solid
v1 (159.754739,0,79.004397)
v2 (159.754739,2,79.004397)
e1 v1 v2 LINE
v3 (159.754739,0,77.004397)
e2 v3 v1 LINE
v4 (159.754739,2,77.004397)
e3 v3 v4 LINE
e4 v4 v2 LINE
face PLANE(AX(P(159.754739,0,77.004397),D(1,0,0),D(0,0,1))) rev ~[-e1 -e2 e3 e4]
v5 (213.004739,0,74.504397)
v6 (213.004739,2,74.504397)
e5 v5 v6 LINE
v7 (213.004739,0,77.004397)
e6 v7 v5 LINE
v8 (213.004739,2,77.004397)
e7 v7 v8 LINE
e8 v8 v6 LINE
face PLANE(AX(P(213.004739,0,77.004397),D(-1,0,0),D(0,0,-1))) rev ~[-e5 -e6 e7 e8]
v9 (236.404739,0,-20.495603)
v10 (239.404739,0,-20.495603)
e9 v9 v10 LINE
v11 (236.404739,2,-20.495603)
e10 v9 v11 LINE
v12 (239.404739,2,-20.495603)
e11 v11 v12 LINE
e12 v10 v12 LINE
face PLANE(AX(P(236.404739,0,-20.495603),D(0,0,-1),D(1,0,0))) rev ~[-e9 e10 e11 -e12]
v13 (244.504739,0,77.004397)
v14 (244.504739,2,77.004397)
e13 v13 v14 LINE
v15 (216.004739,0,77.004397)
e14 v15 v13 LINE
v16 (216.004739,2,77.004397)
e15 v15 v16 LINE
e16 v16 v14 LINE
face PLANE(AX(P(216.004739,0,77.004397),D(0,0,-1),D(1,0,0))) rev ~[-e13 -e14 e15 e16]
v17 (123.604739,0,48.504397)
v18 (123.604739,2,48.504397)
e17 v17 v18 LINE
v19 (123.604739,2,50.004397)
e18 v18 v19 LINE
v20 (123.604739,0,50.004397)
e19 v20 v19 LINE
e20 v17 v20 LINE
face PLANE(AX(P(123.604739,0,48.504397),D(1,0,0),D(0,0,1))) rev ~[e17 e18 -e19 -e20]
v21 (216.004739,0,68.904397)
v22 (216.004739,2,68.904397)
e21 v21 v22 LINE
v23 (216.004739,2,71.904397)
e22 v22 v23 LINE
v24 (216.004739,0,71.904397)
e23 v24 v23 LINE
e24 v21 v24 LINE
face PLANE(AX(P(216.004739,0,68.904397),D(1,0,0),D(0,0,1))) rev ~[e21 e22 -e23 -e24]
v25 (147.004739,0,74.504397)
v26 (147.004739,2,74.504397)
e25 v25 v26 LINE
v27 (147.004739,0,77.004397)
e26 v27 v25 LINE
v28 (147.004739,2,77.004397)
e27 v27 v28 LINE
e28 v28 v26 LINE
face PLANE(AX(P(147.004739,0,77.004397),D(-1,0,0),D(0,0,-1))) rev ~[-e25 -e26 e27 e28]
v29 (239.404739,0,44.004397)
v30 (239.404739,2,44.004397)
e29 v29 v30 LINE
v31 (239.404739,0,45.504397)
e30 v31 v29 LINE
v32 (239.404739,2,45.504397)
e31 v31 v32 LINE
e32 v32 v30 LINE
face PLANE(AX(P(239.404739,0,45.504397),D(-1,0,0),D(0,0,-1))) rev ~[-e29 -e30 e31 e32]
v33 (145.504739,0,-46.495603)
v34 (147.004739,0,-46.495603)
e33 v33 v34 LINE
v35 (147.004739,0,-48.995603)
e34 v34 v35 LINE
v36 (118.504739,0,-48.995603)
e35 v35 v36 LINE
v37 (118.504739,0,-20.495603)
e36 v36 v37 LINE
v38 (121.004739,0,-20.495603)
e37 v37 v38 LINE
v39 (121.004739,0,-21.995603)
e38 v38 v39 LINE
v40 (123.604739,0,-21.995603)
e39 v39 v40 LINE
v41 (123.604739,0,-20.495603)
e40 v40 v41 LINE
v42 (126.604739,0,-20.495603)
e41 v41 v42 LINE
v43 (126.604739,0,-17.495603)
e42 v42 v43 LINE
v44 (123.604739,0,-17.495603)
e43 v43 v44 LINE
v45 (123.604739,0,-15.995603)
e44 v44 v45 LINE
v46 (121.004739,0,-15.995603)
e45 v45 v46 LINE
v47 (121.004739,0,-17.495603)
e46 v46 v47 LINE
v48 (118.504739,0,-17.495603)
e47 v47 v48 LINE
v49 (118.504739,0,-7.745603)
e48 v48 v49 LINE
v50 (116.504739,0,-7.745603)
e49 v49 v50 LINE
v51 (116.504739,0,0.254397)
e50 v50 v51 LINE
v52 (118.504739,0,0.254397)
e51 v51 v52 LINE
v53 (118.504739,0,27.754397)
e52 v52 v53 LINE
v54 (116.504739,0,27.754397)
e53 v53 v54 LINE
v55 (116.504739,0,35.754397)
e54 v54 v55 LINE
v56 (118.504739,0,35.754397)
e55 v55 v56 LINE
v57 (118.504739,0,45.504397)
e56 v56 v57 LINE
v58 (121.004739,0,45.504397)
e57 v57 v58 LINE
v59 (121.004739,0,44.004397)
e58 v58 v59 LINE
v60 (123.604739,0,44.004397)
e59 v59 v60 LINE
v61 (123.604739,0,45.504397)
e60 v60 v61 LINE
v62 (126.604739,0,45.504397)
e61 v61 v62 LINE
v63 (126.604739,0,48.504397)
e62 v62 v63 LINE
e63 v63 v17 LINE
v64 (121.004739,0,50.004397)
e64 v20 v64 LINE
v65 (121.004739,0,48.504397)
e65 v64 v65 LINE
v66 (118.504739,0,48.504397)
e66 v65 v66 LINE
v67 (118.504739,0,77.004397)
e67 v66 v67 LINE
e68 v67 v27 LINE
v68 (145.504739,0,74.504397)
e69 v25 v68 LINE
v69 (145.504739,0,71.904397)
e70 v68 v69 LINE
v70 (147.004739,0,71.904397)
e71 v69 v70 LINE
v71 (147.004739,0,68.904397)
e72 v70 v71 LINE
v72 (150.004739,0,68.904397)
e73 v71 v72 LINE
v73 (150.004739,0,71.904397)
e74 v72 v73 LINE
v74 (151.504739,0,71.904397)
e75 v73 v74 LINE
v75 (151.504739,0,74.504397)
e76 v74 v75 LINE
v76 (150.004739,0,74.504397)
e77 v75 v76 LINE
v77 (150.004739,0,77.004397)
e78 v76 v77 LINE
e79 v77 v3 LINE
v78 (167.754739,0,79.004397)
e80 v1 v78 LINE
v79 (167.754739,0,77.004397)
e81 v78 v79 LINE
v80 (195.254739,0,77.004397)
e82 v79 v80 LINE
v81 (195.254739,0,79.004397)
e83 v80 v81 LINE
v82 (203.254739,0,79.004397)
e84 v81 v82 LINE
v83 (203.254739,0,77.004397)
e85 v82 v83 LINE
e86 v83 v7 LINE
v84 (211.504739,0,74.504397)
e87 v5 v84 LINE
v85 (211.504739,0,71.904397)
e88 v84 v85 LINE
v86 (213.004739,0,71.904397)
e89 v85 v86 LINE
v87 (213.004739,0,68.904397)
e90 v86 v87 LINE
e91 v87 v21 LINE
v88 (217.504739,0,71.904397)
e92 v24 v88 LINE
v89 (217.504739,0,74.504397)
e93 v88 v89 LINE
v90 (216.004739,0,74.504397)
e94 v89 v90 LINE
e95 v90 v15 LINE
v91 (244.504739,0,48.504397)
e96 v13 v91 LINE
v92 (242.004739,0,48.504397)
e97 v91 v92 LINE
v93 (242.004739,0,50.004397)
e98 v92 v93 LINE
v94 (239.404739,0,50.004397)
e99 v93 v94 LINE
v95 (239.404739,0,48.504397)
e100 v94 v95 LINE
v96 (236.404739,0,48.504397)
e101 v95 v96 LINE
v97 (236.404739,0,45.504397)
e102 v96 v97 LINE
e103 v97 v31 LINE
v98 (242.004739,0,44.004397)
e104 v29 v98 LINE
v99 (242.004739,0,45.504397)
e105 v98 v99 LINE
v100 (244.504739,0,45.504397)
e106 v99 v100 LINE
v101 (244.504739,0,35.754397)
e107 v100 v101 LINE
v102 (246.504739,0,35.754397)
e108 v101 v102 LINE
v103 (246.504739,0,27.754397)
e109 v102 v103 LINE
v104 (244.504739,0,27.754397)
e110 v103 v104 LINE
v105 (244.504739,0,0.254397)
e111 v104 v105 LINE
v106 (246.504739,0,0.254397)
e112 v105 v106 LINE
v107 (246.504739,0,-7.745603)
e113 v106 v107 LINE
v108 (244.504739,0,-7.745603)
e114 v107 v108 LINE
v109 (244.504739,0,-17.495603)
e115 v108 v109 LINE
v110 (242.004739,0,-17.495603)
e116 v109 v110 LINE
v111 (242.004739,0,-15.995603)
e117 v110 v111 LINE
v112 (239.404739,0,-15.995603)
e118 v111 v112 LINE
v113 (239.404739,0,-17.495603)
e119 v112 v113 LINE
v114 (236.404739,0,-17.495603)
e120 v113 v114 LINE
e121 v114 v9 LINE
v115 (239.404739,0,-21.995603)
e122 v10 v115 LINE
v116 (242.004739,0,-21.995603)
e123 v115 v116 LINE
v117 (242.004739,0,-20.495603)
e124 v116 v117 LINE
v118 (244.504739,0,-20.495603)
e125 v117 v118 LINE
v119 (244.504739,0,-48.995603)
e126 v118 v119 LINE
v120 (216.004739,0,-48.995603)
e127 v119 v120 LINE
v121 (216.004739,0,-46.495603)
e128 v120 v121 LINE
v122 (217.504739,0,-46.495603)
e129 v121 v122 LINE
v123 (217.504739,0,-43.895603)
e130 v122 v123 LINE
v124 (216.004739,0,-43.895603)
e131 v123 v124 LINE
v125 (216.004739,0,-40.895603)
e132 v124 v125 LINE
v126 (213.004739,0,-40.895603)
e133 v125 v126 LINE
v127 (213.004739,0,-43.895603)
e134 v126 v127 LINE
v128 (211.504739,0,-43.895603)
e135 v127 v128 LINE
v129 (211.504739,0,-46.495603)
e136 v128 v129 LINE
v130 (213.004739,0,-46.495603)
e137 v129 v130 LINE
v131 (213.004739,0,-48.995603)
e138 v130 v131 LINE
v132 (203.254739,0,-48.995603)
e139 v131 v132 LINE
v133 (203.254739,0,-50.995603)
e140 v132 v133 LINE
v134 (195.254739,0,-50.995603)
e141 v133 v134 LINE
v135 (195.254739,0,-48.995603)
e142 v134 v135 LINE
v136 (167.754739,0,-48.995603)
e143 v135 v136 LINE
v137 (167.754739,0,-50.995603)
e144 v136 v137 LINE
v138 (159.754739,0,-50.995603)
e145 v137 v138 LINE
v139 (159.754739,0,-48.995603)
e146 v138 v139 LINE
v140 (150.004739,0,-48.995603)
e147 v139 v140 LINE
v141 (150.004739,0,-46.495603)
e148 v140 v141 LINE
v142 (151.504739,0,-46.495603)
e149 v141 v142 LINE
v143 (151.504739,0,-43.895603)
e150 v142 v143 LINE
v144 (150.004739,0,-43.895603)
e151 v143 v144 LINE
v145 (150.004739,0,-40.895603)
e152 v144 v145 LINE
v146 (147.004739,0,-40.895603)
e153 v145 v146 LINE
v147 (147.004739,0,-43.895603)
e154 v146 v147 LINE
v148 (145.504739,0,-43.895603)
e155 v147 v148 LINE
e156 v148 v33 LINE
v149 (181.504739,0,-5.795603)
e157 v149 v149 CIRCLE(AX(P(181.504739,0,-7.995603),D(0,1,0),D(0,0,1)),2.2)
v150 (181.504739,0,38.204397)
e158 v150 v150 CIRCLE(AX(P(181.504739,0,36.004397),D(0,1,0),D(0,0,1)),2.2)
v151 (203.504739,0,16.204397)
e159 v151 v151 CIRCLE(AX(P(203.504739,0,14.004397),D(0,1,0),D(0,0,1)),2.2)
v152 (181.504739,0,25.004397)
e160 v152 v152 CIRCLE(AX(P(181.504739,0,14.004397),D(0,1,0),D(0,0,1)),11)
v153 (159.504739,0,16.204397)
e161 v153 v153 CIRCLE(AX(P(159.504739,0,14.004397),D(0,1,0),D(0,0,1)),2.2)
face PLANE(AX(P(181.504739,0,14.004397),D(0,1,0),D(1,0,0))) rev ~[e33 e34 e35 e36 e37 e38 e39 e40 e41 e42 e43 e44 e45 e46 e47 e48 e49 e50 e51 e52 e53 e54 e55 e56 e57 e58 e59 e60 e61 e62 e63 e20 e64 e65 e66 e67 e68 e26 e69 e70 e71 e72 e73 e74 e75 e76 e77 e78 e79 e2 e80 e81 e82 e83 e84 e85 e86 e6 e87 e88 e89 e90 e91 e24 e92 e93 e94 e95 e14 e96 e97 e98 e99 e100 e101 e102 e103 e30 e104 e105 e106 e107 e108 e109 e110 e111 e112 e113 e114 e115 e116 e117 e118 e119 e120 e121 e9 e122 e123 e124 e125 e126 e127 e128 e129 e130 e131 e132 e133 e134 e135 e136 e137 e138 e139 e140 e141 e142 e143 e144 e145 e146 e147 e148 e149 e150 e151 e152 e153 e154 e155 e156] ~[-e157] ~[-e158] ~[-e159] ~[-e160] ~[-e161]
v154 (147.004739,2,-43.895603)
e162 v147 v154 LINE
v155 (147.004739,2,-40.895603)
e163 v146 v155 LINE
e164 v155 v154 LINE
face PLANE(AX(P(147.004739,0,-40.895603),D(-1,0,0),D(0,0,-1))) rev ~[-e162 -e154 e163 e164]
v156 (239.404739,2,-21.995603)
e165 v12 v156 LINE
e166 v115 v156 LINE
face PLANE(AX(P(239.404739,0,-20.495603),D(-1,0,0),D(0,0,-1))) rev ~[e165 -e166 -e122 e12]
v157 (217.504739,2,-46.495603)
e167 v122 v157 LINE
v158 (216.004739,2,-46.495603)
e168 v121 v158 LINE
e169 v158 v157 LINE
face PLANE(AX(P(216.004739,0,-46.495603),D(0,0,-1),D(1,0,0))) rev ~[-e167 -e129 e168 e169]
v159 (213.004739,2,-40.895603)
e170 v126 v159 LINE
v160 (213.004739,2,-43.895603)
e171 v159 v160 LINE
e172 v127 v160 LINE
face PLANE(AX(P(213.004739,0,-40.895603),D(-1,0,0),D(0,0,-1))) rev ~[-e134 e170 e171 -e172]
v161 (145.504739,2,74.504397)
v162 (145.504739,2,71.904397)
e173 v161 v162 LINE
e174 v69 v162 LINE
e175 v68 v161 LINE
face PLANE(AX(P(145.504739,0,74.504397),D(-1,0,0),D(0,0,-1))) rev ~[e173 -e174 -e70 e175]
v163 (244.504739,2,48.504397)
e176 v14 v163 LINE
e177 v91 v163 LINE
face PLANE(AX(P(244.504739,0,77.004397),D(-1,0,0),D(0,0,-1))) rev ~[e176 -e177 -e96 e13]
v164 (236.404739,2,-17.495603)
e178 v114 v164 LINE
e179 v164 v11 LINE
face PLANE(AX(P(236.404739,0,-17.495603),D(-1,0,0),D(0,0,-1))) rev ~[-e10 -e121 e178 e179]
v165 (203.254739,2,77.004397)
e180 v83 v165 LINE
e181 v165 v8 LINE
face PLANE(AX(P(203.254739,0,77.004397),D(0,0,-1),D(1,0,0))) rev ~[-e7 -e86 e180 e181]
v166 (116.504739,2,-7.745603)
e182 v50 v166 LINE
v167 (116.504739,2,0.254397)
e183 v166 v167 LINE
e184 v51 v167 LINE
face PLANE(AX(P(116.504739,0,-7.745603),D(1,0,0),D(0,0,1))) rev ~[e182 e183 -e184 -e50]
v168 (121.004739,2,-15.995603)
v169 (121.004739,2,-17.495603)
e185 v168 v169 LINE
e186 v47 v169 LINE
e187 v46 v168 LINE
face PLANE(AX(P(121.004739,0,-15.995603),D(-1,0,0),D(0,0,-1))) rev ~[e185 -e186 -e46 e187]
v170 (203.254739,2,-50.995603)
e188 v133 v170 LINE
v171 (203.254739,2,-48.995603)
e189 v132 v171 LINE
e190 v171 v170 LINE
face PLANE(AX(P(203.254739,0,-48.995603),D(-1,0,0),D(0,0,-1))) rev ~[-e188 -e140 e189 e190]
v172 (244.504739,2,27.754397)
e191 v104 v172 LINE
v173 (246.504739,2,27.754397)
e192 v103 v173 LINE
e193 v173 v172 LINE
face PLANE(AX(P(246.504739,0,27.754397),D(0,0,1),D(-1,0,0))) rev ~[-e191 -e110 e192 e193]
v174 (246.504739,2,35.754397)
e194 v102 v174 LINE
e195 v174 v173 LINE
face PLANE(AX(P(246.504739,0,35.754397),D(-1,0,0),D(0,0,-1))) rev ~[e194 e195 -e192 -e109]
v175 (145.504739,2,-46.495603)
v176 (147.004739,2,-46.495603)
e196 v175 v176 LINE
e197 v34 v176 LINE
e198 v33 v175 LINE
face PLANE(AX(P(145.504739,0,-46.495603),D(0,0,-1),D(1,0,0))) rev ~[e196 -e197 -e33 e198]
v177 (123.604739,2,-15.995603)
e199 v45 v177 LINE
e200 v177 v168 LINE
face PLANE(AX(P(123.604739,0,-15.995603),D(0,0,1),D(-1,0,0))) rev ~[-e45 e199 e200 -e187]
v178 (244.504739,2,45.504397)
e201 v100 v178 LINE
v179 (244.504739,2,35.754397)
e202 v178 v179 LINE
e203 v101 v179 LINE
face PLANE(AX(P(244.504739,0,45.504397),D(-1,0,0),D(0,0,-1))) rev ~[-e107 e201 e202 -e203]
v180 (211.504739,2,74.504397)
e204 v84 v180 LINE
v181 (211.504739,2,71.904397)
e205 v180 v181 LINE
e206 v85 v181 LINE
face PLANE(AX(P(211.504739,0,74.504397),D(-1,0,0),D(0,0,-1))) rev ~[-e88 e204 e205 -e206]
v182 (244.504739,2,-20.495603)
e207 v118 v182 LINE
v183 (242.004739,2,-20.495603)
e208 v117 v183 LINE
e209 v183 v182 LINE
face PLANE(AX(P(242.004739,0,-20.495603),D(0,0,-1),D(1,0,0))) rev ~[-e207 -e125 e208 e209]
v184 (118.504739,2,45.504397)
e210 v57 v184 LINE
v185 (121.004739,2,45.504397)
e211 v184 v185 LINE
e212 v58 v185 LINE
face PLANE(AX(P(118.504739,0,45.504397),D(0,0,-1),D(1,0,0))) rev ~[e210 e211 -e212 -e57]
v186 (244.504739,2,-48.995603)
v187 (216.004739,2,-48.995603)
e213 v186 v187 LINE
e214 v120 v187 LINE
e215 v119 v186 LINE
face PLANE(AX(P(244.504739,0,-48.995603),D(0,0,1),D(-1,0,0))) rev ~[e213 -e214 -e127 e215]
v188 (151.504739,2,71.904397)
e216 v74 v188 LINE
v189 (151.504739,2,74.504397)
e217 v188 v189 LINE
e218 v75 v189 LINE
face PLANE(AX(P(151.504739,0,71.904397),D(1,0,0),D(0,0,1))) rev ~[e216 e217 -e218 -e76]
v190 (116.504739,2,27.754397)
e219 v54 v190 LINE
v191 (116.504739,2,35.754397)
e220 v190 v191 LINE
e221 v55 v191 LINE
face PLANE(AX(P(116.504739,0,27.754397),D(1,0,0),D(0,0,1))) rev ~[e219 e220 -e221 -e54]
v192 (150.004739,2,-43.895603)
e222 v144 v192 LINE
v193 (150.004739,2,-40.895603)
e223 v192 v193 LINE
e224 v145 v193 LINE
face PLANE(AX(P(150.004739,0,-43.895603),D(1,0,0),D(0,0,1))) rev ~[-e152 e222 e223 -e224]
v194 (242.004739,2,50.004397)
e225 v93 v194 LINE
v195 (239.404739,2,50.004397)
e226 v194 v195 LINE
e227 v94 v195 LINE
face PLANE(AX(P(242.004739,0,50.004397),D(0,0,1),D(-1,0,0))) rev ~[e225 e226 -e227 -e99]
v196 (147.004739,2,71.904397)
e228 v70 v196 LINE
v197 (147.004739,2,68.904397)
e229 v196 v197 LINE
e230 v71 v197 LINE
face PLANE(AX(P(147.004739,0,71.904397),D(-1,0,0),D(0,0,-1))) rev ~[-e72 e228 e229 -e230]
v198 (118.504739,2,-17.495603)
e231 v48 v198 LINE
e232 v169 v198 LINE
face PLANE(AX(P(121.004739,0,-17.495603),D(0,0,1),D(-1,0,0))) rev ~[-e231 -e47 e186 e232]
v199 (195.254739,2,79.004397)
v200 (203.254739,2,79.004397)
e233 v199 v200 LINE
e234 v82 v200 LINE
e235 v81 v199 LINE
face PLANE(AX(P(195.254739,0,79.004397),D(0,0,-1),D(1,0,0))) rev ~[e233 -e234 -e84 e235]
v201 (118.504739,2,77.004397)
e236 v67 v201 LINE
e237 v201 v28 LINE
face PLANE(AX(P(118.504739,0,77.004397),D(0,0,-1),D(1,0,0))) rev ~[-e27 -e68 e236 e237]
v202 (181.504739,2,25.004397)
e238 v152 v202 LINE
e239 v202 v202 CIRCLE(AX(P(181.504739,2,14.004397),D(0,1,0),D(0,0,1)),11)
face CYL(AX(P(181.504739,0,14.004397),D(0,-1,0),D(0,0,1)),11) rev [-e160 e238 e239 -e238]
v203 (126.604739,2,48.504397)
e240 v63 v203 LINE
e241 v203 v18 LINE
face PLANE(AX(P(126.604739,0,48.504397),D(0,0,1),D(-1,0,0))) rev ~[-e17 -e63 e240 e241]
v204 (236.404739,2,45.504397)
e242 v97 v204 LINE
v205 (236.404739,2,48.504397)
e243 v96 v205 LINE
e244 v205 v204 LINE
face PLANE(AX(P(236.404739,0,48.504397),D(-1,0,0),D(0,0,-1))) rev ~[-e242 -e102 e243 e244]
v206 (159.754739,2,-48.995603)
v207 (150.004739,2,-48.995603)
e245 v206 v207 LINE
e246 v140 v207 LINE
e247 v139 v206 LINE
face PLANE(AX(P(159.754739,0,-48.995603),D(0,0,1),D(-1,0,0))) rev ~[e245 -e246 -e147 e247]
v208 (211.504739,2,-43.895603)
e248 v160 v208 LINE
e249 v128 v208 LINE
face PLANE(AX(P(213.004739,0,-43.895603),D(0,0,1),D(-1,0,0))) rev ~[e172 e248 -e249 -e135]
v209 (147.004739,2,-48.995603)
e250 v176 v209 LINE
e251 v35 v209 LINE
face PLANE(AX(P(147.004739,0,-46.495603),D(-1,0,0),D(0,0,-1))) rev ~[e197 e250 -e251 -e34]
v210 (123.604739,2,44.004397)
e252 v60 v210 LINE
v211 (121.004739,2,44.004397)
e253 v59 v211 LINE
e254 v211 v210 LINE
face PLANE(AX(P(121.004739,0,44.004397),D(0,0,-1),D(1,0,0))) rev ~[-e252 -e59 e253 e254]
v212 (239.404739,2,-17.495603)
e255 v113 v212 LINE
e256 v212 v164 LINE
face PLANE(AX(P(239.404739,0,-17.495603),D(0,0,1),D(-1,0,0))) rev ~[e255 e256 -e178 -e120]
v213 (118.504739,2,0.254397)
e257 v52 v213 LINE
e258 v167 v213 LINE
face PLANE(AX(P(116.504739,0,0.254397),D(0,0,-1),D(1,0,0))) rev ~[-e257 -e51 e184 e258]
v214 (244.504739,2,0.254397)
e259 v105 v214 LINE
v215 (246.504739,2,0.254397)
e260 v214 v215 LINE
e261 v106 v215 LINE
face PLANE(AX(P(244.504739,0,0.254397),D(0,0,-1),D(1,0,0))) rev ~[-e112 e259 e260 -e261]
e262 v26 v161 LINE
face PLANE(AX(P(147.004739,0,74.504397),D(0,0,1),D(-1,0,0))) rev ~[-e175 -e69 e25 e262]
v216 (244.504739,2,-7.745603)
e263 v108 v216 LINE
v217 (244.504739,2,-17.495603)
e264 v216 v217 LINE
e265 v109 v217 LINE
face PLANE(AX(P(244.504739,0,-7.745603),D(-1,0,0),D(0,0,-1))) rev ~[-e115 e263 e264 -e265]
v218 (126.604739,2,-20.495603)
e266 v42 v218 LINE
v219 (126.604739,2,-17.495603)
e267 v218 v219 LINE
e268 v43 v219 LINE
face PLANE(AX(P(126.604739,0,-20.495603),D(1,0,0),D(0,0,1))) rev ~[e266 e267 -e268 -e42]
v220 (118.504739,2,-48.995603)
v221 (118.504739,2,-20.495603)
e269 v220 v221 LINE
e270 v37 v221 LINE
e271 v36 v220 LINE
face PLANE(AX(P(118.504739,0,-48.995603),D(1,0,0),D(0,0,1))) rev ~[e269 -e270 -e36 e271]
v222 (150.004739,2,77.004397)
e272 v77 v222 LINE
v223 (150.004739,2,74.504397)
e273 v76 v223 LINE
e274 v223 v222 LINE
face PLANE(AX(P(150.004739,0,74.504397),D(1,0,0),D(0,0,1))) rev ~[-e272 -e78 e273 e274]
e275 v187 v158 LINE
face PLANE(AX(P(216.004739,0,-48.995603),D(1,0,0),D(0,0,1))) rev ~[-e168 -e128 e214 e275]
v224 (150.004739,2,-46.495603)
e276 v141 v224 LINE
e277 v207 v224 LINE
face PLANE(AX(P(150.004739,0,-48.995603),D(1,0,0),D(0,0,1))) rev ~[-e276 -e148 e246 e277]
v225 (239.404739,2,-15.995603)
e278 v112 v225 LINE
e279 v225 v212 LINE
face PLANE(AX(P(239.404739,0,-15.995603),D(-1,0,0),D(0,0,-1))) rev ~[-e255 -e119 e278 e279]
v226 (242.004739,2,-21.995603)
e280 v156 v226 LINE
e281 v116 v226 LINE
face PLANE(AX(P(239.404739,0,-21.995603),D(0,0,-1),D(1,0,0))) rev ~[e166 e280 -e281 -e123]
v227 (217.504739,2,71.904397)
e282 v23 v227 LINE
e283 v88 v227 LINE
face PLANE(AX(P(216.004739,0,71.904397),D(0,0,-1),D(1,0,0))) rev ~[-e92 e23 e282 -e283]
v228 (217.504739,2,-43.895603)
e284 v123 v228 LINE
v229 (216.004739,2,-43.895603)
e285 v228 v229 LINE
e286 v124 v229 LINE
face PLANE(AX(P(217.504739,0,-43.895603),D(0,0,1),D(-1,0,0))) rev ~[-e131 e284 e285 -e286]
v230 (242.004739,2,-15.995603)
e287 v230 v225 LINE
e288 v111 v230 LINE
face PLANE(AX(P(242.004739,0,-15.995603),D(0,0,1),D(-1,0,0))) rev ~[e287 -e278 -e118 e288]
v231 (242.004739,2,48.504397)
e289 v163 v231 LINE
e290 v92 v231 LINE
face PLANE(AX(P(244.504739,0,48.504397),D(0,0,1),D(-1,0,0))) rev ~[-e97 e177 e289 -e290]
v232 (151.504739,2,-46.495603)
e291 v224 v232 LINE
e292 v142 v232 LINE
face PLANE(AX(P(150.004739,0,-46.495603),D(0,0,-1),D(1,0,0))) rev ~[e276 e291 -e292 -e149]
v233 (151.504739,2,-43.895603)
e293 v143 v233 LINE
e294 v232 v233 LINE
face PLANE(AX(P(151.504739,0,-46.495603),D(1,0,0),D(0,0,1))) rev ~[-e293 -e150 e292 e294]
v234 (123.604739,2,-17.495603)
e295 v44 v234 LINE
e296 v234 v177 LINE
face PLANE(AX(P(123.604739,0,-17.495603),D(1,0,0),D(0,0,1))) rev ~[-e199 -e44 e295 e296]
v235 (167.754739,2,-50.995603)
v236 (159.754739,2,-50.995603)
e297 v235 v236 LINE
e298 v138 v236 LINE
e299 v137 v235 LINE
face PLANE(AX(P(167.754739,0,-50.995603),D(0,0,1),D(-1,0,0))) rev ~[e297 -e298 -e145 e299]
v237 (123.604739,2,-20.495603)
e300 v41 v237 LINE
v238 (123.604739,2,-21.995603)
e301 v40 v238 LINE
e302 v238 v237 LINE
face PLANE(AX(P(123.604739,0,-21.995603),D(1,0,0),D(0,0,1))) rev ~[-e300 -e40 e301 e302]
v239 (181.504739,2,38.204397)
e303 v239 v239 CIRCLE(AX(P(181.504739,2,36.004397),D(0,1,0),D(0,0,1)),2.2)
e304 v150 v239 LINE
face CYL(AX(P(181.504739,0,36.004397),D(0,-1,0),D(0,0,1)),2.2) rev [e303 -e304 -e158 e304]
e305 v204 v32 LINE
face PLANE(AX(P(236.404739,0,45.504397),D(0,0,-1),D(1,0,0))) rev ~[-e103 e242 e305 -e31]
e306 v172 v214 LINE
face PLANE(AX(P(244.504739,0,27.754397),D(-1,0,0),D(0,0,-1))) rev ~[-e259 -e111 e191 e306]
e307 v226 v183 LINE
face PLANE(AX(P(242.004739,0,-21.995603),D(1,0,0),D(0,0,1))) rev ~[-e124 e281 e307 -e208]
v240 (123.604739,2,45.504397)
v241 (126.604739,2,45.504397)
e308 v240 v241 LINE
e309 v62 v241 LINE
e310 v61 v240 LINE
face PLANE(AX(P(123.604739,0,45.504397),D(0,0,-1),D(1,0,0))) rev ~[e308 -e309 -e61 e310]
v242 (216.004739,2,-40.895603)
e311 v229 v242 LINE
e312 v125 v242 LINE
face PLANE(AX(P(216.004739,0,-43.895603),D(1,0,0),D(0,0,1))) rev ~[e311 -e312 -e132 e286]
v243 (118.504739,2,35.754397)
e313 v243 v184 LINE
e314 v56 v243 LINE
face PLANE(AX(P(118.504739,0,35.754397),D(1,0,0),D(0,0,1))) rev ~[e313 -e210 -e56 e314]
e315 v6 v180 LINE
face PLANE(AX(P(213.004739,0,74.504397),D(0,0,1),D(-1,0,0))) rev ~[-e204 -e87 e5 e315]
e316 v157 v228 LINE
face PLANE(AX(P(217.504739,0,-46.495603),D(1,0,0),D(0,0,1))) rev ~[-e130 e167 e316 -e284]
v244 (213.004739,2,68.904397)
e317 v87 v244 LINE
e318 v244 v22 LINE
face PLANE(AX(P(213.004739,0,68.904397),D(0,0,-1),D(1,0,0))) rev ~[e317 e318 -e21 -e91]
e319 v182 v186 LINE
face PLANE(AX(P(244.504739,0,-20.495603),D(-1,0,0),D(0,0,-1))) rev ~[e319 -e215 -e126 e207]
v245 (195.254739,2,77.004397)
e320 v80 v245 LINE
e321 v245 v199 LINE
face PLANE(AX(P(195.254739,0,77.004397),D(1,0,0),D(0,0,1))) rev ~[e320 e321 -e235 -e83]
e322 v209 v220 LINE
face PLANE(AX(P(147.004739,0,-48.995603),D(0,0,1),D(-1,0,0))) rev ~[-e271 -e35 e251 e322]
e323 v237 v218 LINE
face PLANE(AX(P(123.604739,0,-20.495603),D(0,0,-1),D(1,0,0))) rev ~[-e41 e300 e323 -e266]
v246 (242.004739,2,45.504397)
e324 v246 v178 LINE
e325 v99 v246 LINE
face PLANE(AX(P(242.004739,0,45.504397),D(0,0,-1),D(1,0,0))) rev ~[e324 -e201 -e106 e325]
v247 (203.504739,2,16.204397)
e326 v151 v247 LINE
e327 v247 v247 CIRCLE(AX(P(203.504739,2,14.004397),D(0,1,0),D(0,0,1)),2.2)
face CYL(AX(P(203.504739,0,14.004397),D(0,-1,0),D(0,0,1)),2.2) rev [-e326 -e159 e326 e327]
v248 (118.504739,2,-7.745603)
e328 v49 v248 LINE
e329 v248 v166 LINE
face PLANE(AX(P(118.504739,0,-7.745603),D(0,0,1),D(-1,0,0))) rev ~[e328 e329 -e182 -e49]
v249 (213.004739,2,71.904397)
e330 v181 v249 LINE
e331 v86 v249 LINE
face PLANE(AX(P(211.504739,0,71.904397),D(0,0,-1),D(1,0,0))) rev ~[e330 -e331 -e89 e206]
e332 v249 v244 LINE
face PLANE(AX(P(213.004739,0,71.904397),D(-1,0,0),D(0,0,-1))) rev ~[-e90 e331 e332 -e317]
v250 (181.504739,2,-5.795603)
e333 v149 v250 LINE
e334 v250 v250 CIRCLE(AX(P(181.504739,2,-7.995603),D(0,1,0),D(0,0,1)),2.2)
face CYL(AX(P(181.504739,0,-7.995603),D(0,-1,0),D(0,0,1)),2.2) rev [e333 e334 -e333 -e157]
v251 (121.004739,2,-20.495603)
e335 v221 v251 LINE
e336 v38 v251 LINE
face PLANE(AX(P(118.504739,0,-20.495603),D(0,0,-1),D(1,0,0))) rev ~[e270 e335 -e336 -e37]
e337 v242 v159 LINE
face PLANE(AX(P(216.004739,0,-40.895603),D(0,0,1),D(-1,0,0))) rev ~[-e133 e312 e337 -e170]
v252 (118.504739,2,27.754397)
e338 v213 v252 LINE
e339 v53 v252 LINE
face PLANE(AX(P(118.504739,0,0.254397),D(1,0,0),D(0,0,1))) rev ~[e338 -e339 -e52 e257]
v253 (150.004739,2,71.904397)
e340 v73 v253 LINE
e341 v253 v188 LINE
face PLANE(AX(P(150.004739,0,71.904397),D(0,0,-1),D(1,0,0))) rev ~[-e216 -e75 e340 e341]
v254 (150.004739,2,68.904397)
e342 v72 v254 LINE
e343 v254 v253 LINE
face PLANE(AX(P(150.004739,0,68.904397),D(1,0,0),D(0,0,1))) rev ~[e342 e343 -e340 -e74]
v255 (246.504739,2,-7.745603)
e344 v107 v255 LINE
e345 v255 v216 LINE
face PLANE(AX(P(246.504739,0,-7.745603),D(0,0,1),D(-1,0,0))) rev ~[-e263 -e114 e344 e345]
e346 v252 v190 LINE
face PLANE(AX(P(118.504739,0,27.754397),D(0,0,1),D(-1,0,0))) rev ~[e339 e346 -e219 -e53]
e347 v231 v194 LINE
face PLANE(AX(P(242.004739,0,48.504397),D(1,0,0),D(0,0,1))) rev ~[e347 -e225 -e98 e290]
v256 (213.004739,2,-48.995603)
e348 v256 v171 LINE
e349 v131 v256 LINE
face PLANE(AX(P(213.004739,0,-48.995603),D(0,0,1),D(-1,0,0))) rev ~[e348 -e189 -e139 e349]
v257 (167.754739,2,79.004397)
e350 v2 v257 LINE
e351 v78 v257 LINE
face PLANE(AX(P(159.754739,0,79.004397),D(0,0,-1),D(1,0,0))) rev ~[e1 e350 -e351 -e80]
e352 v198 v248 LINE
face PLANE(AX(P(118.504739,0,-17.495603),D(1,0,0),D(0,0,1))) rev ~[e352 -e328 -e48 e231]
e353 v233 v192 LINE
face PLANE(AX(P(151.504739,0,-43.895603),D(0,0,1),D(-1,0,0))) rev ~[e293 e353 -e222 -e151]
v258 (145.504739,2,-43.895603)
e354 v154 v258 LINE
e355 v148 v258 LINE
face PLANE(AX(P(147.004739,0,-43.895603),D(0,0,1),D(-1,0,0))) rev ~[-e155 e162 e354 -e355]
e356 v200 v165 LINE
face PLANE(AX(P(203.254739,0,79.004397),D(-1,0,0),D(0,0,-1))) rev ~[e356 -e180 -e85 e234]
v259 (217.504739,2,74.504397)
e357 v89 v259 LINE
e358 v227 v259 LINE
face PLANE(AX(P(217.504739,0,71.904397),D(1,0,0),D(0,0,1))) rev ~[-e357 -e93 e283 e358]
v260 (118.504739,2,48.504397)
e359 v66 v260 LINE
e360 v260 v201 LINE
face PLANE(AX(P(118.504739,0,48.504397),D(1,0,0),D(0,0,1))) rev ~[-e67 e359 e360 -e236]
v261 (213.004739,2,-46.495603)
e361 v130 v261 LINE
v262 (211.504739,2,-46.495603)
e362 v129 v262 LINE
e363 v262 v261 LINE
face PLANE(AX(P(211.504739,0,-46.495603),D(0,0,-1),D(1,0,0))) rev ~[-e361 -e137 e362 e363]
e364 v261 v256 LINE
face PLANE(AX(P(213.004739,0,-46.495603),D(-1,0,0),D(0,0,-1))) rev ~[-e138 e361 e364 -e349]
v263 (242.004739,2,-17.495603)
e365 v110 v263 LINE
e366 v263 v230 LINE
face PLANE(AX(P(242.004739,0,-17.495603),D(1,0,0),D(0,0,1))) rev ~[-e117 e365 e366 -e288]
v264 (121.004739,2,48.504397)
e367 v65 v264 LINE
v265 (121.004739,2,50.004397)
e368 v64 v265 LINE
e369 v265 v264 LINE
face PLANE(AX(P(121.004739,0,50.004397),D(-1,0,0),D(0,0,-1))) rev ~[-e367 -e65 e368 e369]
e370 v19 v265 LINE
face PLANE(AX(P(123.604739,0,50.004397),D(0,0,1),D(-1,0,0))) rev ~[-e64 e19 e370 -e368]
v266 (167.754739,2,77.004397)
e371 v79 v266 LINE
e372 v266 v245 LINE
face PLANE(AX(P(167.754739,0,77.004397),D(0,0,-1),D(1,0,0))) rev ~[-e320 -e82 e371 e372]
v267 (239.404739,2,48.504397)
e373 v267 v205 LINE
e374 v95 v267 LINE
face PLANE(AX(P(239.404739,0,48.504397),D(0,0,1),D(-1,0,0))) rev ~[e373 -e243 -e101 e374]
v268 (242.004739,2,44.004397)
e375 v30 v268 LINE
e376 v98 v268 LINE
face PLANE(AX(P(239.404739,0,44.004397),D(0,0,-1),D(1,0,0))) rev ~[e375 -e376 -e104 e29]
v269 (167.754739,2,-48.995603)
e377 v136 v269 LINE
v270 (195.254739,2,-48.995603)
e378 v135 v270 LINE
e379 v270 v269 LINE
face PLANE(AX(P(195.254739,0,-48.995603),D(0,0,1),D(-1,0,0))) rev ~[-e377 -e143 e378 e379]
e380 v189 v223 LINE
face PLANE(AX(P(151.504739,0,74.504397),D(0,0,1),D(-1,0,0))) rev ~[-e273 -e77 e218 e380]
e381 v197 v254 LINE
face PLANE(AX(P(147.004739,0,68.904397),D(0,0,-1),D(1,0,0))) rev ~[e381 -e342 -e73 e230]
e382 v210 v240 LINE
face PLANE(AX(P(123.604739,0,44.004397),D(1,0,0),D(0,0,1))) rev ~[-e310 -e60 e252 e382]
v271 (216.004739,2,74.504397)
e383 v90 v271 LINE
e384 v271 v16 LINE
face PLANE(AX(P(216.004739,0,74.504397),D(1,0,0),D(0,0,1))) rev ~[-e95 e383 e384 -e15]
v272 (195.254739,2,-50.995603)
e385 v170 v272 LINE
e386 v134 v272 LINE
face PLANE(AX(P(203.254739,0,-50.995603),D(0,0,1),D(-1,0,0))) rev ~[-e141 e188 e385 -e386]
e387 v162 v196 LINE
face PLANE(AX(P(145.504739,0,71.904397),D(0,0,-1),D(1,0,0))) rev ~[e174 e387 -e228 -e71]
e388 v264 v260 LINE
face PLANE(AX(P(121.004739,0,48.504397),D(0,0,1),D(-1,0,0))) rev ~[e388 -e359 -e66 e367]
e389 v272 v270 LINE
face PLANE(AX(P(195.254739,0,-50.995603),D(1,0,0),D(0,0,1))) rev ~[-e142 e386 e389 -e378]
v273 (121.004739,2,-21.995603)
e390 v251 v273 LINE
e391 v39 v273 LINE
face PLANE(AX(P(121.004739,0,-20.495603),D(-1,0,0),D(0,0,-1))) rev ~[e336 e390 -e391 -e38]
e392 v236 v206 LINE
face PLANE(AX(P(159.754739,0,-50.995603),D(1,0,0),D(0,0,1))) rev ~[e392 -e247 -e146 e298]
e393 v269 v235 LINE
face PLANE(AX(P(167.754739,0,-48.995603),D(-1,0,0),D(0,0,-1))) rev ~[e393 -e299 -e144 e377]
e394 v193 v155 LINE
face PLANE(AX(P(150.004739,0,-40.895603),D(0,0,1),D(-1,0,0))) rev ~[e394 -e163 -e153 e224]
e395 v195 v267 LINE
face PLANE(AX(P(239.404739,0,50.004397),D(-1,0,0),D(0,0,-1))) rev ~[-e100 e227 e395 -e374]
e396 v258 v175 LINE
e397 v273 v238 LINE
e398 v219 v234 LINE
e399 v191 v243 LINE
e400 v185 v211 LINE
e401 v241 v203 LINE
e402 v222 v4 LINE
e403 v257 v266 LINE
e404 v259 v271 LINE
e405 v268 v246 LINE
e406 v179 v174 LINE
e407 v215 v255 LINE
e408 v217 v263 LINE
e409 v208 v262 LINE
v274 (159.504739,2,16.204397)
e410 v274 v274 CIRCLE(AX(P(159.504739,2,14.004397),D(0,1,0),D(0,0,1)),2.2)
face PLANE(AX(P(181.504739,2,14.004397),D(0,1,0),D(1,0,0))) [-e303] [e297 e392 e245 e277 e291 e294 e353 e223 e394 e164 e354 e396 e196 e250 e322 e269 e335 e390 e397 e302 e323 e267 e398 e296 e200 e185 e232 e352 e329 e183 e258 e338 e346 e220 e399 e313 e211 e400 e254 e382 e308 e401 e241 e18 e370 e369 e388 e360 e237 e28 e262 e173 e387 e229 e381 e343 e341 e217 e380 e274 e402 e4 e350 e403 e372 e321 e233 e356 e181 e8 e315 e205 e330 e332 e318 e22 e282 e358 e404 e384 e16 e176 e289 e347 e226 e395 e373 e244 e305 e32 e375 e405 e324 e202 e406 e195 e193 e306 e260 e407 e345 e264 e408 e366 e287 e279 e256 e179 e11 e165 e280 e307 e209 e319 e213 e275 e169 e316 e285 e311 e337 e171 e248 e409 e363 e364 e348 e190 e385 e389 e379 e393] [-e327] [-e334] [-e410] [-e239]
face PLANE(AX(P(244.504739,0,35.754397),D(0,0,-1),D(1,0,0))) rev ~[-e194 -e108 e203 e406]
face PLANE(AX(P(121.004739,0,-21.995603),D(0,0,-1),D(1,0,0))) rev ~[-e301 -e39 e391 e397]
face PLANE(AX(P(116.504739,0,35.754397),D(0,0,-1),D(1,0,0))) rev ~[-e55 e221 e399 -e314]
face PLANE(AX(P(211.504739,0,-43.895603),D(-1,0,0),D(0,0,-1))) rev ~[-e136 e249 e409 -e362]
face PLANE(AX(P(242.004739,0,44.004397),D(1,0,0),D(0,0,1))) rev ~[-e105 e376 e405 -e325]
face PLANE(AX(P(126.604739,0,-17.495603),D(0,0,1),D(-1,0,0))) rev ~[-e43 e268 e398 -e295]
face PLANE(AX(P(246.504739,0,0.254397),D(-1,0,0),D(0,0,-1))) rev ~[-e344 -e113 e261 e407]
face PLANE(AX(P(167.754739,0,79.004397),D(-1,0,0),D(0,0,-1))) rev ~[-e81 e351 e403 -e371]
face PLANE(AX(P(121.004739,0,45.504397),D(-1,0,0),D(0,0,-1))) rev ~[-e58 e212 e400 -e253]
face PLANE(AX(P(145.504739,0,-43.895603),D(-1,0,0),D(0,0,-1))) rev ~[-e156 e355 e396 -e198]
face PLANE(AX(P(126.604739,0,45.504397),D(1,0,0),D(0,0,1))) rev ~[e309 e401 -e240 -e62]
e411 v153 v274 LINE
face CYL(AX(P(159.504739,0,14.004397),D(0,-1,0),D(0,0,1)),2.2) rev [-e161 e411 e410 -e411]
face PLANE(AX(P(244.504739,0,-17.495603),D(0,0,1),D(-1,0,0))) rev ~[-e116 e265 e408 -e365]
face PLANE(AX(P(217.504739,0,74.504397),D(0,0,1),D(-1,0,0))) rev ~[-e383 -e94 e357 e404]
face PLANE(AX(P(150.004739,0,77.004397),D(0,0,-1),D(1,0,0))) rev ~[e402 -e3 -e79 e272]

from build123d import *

# Parameters (mm, degrees)
SKETCH_1_R      = 11
SKETCH_1_R_2    = 2.2
EXTRUDE_1_DEPTH = 2


with BuildPart() as part:
    # 草图1 → 凸台-拉伸1 (new body)
    with BuildSketch(Plane(origin=(0, 0, 0), x_dir=(1, 0, 0), z_dir=(0, 1, 0))):
        Polygon((159.754738648, 48.995603023), (150.004738648, 48.995603023), (150.004738648, 46.495603023), (151.504738648, 46.495603023), (151.504738648, 43.895603023), (150.004738648, 43.895603023), (150.004738648, 40.895603023), (147.004738648, 40.895603023), (147.004738648, 43.895603023), (145.504738648, 43.895603023), (145.504738648, 46.495603023), (147.004738648, 46.495603023), (147.004738648, 48.995603023), (138.604738648, 48.995603023), (133.504738648, 48.995603023), (118.504738648, 48.995603023), (118.504738648, 33.995603023), (118.504738648, 21.495603023), (118.504738648, 20.495603023), (121.004738648, 20.495603023), (121.004738648, 21.995603023), (123.604738648, 21.995603023), (123.604738648, 20.495603023), (126.604738648, 20.495603023), (126.604738648, 17.495603023), (123.604738648, 17.495603023), (123.604738648, 15.995603023), (121.004738648, 15.995603023), (121.004738648, 17.495603023), (118.504738648, 17.495603023), (118.504738648, 7.745603023), (116.504738648, 7.745603023), (116.504738648, -0.254396977), (118.504738648, -0.254396977), (118.504738648, -27.754396977), (116.504738648, -27.754396977), (116.504738648, -35.754396977), (118.504738648, -35.754396977), (118.504738648, -45.504396977), (121.004738648, -45.504396977), (121.004738648, -44.004396977), (123.604738648, -44.004396977), (123.604738648, -45.504396977), (126.604738648, -45.504396977), (126.604738648, -48.504396977), (123.604738648, -48.504396977), (123.604738648, -50.004396977), (121.004738648, -50.004396977), (121.004738648, -48.504396977), (118.504738648, -48.504396977), (118.504738648, -56.904396977), (118.504738648, -62.004396977), (118.504738648, -77.004396977), (133.504738648, -77.004396977), (146.004738648, -77.004396977), (147.004738648, -77.004396977), (147.004738648, -74.504396977), (145.504738648, -74.504396977), (145.504738648, -71.904396977), (147.004738648, -71.904396977), (147.004738648, -68.904396977), (150.004738648, -68.904396977), (150.004738648, -71.904396977), (151.504738648, -71.904396977), (151.504738648, -74.504396977), (150.004738648, -74.504396977), (150.004738648, -77.004396977), (159.754738648, -77.004396977), (159.754738648, -79.004396977), (167.754738648, -79.004396977), (167.754738648, -77.004396977), (195.254738648, -77.004396977), (195.254738648, -79.004396977), (203.254738648, -79.004396977), (203.254738648, -77.004396977), (213.004738648, -77.004396977), (213.004738648, -74.504396977), (211.504738648, -74.504396977), (211.504738648, -71.904396977), (213.004738648, -71.904396977), (213.004738648, -68.904396977), (216.004738648, -68.904396977), (216.004738648, -71.904396977), (217.504738648, -71.904396977), (217.504738648, -74.504396977), (216.004738648, -74.504396977), (216.004738648, -77.004396977), (224.404738648, -77.004396977), (229.504738648, -77.004396977), (244.504738648, -77.004396977), (244.504738648, -62.004396977), (244.504738648, -49.504396977), (244.504738648, -48.504396977), (242.004738648, -48.504396977), (242.004738648, -50.004396977), (239.404738648, -50.004396977), (239.404738648, -48.504396977), (236.404738648, -48.504396977), (236.404738648, -45.504396977), (239.404738648, -45.504396977), (239.404738648, -44.004396977), (242.004738648, -44.004396977), (242.004738648, -45.504396977), (244.504738648, -45.504396977), (244.504738648, -35.754396977), (246.504738648, -35.754396977), (246.504738648, -27.754396977), (244.504738648, -27.754396977), (244.504738648, -0.254396977), (246.504738648, -0.254396977), (246.504738648, 7.745603023), (244.504738648, 7.745603023), (244.504738648, 17.495603023), (242.004738648, 17.495603023), (242.004738648, 15.995603023), (239.404738648, 15.995603023), (239.404738648, 17.495603023), (236.404738648, 17.495603023), (236.404738648, 20.495603023), (239.404738648, 20.495603023), (239.404738648, 21.995603023), (242.004738648, 21.995603023), (242.004738648, 20.495603023), (244.504738648, 20.495603023), (244.504738648, 28.895603023), (244.504738648, 33.995603023), (244.504738648, 48.995603023), (229.504738648, 48.995603023), (217.004738648, 48.995603023), (216.004738648, 48.995603023), (216.004738648, 46.495603023), (217.504738648, 46.495603023), (217.504738648, 43.895603023), (216.004738648, 43.895603023), (216.004738648, 40.895603023), (213.004738648, 40.895603023), (213.004738648, 43.895603023), (211.504738648, 43.895603023), (211.504738648, 46.495603023), (213.004738648, 46.495603023), (213.004738648, 48.995603023), (203.254738648, 48.995603023), (203.254738648, 50.995603023), (195.254738648, 50.995603023), (195.254738648, 48.995603023), (167.754738648, 48.995603023), (167.754738648, 50.995603023), (159.754738648, 50.995603023), align=None)
        with Locations(Location((181.504738648, -14.004396977, 0), (0, 0, 270))):
            Circle(SKETCH_1_R, mode=Mode.SUBTRACT)
        with Locations(Location((181.504738648, -36.004396977, 0), (0, 0, 270))):
            Circle(SKETCH_1_R_2, mode=Mode.SUBTRACT)
        with Locations(Location((159.504738648, -14.004396977, 0), (0, 0, 270))):
            Circle(SKETCH_1_R_2, mode=Mode.SUBTRACT)
        with Locations(Location((181.504738648, 7.995603023, 0), (0, 0, 270))):
            Circle(SKETCH_1_R_2, mode=Mode.SUBTRACT)
        with Locations(Location((203.504738648, -14.004396977, 0), (0, 0, 270))):
            Circle(SKETCH_1_R_2, mode=Mode.SUBTRACT)
    extrude(amount=EXTRUDE_1_DEPTH)


solid = part.part
